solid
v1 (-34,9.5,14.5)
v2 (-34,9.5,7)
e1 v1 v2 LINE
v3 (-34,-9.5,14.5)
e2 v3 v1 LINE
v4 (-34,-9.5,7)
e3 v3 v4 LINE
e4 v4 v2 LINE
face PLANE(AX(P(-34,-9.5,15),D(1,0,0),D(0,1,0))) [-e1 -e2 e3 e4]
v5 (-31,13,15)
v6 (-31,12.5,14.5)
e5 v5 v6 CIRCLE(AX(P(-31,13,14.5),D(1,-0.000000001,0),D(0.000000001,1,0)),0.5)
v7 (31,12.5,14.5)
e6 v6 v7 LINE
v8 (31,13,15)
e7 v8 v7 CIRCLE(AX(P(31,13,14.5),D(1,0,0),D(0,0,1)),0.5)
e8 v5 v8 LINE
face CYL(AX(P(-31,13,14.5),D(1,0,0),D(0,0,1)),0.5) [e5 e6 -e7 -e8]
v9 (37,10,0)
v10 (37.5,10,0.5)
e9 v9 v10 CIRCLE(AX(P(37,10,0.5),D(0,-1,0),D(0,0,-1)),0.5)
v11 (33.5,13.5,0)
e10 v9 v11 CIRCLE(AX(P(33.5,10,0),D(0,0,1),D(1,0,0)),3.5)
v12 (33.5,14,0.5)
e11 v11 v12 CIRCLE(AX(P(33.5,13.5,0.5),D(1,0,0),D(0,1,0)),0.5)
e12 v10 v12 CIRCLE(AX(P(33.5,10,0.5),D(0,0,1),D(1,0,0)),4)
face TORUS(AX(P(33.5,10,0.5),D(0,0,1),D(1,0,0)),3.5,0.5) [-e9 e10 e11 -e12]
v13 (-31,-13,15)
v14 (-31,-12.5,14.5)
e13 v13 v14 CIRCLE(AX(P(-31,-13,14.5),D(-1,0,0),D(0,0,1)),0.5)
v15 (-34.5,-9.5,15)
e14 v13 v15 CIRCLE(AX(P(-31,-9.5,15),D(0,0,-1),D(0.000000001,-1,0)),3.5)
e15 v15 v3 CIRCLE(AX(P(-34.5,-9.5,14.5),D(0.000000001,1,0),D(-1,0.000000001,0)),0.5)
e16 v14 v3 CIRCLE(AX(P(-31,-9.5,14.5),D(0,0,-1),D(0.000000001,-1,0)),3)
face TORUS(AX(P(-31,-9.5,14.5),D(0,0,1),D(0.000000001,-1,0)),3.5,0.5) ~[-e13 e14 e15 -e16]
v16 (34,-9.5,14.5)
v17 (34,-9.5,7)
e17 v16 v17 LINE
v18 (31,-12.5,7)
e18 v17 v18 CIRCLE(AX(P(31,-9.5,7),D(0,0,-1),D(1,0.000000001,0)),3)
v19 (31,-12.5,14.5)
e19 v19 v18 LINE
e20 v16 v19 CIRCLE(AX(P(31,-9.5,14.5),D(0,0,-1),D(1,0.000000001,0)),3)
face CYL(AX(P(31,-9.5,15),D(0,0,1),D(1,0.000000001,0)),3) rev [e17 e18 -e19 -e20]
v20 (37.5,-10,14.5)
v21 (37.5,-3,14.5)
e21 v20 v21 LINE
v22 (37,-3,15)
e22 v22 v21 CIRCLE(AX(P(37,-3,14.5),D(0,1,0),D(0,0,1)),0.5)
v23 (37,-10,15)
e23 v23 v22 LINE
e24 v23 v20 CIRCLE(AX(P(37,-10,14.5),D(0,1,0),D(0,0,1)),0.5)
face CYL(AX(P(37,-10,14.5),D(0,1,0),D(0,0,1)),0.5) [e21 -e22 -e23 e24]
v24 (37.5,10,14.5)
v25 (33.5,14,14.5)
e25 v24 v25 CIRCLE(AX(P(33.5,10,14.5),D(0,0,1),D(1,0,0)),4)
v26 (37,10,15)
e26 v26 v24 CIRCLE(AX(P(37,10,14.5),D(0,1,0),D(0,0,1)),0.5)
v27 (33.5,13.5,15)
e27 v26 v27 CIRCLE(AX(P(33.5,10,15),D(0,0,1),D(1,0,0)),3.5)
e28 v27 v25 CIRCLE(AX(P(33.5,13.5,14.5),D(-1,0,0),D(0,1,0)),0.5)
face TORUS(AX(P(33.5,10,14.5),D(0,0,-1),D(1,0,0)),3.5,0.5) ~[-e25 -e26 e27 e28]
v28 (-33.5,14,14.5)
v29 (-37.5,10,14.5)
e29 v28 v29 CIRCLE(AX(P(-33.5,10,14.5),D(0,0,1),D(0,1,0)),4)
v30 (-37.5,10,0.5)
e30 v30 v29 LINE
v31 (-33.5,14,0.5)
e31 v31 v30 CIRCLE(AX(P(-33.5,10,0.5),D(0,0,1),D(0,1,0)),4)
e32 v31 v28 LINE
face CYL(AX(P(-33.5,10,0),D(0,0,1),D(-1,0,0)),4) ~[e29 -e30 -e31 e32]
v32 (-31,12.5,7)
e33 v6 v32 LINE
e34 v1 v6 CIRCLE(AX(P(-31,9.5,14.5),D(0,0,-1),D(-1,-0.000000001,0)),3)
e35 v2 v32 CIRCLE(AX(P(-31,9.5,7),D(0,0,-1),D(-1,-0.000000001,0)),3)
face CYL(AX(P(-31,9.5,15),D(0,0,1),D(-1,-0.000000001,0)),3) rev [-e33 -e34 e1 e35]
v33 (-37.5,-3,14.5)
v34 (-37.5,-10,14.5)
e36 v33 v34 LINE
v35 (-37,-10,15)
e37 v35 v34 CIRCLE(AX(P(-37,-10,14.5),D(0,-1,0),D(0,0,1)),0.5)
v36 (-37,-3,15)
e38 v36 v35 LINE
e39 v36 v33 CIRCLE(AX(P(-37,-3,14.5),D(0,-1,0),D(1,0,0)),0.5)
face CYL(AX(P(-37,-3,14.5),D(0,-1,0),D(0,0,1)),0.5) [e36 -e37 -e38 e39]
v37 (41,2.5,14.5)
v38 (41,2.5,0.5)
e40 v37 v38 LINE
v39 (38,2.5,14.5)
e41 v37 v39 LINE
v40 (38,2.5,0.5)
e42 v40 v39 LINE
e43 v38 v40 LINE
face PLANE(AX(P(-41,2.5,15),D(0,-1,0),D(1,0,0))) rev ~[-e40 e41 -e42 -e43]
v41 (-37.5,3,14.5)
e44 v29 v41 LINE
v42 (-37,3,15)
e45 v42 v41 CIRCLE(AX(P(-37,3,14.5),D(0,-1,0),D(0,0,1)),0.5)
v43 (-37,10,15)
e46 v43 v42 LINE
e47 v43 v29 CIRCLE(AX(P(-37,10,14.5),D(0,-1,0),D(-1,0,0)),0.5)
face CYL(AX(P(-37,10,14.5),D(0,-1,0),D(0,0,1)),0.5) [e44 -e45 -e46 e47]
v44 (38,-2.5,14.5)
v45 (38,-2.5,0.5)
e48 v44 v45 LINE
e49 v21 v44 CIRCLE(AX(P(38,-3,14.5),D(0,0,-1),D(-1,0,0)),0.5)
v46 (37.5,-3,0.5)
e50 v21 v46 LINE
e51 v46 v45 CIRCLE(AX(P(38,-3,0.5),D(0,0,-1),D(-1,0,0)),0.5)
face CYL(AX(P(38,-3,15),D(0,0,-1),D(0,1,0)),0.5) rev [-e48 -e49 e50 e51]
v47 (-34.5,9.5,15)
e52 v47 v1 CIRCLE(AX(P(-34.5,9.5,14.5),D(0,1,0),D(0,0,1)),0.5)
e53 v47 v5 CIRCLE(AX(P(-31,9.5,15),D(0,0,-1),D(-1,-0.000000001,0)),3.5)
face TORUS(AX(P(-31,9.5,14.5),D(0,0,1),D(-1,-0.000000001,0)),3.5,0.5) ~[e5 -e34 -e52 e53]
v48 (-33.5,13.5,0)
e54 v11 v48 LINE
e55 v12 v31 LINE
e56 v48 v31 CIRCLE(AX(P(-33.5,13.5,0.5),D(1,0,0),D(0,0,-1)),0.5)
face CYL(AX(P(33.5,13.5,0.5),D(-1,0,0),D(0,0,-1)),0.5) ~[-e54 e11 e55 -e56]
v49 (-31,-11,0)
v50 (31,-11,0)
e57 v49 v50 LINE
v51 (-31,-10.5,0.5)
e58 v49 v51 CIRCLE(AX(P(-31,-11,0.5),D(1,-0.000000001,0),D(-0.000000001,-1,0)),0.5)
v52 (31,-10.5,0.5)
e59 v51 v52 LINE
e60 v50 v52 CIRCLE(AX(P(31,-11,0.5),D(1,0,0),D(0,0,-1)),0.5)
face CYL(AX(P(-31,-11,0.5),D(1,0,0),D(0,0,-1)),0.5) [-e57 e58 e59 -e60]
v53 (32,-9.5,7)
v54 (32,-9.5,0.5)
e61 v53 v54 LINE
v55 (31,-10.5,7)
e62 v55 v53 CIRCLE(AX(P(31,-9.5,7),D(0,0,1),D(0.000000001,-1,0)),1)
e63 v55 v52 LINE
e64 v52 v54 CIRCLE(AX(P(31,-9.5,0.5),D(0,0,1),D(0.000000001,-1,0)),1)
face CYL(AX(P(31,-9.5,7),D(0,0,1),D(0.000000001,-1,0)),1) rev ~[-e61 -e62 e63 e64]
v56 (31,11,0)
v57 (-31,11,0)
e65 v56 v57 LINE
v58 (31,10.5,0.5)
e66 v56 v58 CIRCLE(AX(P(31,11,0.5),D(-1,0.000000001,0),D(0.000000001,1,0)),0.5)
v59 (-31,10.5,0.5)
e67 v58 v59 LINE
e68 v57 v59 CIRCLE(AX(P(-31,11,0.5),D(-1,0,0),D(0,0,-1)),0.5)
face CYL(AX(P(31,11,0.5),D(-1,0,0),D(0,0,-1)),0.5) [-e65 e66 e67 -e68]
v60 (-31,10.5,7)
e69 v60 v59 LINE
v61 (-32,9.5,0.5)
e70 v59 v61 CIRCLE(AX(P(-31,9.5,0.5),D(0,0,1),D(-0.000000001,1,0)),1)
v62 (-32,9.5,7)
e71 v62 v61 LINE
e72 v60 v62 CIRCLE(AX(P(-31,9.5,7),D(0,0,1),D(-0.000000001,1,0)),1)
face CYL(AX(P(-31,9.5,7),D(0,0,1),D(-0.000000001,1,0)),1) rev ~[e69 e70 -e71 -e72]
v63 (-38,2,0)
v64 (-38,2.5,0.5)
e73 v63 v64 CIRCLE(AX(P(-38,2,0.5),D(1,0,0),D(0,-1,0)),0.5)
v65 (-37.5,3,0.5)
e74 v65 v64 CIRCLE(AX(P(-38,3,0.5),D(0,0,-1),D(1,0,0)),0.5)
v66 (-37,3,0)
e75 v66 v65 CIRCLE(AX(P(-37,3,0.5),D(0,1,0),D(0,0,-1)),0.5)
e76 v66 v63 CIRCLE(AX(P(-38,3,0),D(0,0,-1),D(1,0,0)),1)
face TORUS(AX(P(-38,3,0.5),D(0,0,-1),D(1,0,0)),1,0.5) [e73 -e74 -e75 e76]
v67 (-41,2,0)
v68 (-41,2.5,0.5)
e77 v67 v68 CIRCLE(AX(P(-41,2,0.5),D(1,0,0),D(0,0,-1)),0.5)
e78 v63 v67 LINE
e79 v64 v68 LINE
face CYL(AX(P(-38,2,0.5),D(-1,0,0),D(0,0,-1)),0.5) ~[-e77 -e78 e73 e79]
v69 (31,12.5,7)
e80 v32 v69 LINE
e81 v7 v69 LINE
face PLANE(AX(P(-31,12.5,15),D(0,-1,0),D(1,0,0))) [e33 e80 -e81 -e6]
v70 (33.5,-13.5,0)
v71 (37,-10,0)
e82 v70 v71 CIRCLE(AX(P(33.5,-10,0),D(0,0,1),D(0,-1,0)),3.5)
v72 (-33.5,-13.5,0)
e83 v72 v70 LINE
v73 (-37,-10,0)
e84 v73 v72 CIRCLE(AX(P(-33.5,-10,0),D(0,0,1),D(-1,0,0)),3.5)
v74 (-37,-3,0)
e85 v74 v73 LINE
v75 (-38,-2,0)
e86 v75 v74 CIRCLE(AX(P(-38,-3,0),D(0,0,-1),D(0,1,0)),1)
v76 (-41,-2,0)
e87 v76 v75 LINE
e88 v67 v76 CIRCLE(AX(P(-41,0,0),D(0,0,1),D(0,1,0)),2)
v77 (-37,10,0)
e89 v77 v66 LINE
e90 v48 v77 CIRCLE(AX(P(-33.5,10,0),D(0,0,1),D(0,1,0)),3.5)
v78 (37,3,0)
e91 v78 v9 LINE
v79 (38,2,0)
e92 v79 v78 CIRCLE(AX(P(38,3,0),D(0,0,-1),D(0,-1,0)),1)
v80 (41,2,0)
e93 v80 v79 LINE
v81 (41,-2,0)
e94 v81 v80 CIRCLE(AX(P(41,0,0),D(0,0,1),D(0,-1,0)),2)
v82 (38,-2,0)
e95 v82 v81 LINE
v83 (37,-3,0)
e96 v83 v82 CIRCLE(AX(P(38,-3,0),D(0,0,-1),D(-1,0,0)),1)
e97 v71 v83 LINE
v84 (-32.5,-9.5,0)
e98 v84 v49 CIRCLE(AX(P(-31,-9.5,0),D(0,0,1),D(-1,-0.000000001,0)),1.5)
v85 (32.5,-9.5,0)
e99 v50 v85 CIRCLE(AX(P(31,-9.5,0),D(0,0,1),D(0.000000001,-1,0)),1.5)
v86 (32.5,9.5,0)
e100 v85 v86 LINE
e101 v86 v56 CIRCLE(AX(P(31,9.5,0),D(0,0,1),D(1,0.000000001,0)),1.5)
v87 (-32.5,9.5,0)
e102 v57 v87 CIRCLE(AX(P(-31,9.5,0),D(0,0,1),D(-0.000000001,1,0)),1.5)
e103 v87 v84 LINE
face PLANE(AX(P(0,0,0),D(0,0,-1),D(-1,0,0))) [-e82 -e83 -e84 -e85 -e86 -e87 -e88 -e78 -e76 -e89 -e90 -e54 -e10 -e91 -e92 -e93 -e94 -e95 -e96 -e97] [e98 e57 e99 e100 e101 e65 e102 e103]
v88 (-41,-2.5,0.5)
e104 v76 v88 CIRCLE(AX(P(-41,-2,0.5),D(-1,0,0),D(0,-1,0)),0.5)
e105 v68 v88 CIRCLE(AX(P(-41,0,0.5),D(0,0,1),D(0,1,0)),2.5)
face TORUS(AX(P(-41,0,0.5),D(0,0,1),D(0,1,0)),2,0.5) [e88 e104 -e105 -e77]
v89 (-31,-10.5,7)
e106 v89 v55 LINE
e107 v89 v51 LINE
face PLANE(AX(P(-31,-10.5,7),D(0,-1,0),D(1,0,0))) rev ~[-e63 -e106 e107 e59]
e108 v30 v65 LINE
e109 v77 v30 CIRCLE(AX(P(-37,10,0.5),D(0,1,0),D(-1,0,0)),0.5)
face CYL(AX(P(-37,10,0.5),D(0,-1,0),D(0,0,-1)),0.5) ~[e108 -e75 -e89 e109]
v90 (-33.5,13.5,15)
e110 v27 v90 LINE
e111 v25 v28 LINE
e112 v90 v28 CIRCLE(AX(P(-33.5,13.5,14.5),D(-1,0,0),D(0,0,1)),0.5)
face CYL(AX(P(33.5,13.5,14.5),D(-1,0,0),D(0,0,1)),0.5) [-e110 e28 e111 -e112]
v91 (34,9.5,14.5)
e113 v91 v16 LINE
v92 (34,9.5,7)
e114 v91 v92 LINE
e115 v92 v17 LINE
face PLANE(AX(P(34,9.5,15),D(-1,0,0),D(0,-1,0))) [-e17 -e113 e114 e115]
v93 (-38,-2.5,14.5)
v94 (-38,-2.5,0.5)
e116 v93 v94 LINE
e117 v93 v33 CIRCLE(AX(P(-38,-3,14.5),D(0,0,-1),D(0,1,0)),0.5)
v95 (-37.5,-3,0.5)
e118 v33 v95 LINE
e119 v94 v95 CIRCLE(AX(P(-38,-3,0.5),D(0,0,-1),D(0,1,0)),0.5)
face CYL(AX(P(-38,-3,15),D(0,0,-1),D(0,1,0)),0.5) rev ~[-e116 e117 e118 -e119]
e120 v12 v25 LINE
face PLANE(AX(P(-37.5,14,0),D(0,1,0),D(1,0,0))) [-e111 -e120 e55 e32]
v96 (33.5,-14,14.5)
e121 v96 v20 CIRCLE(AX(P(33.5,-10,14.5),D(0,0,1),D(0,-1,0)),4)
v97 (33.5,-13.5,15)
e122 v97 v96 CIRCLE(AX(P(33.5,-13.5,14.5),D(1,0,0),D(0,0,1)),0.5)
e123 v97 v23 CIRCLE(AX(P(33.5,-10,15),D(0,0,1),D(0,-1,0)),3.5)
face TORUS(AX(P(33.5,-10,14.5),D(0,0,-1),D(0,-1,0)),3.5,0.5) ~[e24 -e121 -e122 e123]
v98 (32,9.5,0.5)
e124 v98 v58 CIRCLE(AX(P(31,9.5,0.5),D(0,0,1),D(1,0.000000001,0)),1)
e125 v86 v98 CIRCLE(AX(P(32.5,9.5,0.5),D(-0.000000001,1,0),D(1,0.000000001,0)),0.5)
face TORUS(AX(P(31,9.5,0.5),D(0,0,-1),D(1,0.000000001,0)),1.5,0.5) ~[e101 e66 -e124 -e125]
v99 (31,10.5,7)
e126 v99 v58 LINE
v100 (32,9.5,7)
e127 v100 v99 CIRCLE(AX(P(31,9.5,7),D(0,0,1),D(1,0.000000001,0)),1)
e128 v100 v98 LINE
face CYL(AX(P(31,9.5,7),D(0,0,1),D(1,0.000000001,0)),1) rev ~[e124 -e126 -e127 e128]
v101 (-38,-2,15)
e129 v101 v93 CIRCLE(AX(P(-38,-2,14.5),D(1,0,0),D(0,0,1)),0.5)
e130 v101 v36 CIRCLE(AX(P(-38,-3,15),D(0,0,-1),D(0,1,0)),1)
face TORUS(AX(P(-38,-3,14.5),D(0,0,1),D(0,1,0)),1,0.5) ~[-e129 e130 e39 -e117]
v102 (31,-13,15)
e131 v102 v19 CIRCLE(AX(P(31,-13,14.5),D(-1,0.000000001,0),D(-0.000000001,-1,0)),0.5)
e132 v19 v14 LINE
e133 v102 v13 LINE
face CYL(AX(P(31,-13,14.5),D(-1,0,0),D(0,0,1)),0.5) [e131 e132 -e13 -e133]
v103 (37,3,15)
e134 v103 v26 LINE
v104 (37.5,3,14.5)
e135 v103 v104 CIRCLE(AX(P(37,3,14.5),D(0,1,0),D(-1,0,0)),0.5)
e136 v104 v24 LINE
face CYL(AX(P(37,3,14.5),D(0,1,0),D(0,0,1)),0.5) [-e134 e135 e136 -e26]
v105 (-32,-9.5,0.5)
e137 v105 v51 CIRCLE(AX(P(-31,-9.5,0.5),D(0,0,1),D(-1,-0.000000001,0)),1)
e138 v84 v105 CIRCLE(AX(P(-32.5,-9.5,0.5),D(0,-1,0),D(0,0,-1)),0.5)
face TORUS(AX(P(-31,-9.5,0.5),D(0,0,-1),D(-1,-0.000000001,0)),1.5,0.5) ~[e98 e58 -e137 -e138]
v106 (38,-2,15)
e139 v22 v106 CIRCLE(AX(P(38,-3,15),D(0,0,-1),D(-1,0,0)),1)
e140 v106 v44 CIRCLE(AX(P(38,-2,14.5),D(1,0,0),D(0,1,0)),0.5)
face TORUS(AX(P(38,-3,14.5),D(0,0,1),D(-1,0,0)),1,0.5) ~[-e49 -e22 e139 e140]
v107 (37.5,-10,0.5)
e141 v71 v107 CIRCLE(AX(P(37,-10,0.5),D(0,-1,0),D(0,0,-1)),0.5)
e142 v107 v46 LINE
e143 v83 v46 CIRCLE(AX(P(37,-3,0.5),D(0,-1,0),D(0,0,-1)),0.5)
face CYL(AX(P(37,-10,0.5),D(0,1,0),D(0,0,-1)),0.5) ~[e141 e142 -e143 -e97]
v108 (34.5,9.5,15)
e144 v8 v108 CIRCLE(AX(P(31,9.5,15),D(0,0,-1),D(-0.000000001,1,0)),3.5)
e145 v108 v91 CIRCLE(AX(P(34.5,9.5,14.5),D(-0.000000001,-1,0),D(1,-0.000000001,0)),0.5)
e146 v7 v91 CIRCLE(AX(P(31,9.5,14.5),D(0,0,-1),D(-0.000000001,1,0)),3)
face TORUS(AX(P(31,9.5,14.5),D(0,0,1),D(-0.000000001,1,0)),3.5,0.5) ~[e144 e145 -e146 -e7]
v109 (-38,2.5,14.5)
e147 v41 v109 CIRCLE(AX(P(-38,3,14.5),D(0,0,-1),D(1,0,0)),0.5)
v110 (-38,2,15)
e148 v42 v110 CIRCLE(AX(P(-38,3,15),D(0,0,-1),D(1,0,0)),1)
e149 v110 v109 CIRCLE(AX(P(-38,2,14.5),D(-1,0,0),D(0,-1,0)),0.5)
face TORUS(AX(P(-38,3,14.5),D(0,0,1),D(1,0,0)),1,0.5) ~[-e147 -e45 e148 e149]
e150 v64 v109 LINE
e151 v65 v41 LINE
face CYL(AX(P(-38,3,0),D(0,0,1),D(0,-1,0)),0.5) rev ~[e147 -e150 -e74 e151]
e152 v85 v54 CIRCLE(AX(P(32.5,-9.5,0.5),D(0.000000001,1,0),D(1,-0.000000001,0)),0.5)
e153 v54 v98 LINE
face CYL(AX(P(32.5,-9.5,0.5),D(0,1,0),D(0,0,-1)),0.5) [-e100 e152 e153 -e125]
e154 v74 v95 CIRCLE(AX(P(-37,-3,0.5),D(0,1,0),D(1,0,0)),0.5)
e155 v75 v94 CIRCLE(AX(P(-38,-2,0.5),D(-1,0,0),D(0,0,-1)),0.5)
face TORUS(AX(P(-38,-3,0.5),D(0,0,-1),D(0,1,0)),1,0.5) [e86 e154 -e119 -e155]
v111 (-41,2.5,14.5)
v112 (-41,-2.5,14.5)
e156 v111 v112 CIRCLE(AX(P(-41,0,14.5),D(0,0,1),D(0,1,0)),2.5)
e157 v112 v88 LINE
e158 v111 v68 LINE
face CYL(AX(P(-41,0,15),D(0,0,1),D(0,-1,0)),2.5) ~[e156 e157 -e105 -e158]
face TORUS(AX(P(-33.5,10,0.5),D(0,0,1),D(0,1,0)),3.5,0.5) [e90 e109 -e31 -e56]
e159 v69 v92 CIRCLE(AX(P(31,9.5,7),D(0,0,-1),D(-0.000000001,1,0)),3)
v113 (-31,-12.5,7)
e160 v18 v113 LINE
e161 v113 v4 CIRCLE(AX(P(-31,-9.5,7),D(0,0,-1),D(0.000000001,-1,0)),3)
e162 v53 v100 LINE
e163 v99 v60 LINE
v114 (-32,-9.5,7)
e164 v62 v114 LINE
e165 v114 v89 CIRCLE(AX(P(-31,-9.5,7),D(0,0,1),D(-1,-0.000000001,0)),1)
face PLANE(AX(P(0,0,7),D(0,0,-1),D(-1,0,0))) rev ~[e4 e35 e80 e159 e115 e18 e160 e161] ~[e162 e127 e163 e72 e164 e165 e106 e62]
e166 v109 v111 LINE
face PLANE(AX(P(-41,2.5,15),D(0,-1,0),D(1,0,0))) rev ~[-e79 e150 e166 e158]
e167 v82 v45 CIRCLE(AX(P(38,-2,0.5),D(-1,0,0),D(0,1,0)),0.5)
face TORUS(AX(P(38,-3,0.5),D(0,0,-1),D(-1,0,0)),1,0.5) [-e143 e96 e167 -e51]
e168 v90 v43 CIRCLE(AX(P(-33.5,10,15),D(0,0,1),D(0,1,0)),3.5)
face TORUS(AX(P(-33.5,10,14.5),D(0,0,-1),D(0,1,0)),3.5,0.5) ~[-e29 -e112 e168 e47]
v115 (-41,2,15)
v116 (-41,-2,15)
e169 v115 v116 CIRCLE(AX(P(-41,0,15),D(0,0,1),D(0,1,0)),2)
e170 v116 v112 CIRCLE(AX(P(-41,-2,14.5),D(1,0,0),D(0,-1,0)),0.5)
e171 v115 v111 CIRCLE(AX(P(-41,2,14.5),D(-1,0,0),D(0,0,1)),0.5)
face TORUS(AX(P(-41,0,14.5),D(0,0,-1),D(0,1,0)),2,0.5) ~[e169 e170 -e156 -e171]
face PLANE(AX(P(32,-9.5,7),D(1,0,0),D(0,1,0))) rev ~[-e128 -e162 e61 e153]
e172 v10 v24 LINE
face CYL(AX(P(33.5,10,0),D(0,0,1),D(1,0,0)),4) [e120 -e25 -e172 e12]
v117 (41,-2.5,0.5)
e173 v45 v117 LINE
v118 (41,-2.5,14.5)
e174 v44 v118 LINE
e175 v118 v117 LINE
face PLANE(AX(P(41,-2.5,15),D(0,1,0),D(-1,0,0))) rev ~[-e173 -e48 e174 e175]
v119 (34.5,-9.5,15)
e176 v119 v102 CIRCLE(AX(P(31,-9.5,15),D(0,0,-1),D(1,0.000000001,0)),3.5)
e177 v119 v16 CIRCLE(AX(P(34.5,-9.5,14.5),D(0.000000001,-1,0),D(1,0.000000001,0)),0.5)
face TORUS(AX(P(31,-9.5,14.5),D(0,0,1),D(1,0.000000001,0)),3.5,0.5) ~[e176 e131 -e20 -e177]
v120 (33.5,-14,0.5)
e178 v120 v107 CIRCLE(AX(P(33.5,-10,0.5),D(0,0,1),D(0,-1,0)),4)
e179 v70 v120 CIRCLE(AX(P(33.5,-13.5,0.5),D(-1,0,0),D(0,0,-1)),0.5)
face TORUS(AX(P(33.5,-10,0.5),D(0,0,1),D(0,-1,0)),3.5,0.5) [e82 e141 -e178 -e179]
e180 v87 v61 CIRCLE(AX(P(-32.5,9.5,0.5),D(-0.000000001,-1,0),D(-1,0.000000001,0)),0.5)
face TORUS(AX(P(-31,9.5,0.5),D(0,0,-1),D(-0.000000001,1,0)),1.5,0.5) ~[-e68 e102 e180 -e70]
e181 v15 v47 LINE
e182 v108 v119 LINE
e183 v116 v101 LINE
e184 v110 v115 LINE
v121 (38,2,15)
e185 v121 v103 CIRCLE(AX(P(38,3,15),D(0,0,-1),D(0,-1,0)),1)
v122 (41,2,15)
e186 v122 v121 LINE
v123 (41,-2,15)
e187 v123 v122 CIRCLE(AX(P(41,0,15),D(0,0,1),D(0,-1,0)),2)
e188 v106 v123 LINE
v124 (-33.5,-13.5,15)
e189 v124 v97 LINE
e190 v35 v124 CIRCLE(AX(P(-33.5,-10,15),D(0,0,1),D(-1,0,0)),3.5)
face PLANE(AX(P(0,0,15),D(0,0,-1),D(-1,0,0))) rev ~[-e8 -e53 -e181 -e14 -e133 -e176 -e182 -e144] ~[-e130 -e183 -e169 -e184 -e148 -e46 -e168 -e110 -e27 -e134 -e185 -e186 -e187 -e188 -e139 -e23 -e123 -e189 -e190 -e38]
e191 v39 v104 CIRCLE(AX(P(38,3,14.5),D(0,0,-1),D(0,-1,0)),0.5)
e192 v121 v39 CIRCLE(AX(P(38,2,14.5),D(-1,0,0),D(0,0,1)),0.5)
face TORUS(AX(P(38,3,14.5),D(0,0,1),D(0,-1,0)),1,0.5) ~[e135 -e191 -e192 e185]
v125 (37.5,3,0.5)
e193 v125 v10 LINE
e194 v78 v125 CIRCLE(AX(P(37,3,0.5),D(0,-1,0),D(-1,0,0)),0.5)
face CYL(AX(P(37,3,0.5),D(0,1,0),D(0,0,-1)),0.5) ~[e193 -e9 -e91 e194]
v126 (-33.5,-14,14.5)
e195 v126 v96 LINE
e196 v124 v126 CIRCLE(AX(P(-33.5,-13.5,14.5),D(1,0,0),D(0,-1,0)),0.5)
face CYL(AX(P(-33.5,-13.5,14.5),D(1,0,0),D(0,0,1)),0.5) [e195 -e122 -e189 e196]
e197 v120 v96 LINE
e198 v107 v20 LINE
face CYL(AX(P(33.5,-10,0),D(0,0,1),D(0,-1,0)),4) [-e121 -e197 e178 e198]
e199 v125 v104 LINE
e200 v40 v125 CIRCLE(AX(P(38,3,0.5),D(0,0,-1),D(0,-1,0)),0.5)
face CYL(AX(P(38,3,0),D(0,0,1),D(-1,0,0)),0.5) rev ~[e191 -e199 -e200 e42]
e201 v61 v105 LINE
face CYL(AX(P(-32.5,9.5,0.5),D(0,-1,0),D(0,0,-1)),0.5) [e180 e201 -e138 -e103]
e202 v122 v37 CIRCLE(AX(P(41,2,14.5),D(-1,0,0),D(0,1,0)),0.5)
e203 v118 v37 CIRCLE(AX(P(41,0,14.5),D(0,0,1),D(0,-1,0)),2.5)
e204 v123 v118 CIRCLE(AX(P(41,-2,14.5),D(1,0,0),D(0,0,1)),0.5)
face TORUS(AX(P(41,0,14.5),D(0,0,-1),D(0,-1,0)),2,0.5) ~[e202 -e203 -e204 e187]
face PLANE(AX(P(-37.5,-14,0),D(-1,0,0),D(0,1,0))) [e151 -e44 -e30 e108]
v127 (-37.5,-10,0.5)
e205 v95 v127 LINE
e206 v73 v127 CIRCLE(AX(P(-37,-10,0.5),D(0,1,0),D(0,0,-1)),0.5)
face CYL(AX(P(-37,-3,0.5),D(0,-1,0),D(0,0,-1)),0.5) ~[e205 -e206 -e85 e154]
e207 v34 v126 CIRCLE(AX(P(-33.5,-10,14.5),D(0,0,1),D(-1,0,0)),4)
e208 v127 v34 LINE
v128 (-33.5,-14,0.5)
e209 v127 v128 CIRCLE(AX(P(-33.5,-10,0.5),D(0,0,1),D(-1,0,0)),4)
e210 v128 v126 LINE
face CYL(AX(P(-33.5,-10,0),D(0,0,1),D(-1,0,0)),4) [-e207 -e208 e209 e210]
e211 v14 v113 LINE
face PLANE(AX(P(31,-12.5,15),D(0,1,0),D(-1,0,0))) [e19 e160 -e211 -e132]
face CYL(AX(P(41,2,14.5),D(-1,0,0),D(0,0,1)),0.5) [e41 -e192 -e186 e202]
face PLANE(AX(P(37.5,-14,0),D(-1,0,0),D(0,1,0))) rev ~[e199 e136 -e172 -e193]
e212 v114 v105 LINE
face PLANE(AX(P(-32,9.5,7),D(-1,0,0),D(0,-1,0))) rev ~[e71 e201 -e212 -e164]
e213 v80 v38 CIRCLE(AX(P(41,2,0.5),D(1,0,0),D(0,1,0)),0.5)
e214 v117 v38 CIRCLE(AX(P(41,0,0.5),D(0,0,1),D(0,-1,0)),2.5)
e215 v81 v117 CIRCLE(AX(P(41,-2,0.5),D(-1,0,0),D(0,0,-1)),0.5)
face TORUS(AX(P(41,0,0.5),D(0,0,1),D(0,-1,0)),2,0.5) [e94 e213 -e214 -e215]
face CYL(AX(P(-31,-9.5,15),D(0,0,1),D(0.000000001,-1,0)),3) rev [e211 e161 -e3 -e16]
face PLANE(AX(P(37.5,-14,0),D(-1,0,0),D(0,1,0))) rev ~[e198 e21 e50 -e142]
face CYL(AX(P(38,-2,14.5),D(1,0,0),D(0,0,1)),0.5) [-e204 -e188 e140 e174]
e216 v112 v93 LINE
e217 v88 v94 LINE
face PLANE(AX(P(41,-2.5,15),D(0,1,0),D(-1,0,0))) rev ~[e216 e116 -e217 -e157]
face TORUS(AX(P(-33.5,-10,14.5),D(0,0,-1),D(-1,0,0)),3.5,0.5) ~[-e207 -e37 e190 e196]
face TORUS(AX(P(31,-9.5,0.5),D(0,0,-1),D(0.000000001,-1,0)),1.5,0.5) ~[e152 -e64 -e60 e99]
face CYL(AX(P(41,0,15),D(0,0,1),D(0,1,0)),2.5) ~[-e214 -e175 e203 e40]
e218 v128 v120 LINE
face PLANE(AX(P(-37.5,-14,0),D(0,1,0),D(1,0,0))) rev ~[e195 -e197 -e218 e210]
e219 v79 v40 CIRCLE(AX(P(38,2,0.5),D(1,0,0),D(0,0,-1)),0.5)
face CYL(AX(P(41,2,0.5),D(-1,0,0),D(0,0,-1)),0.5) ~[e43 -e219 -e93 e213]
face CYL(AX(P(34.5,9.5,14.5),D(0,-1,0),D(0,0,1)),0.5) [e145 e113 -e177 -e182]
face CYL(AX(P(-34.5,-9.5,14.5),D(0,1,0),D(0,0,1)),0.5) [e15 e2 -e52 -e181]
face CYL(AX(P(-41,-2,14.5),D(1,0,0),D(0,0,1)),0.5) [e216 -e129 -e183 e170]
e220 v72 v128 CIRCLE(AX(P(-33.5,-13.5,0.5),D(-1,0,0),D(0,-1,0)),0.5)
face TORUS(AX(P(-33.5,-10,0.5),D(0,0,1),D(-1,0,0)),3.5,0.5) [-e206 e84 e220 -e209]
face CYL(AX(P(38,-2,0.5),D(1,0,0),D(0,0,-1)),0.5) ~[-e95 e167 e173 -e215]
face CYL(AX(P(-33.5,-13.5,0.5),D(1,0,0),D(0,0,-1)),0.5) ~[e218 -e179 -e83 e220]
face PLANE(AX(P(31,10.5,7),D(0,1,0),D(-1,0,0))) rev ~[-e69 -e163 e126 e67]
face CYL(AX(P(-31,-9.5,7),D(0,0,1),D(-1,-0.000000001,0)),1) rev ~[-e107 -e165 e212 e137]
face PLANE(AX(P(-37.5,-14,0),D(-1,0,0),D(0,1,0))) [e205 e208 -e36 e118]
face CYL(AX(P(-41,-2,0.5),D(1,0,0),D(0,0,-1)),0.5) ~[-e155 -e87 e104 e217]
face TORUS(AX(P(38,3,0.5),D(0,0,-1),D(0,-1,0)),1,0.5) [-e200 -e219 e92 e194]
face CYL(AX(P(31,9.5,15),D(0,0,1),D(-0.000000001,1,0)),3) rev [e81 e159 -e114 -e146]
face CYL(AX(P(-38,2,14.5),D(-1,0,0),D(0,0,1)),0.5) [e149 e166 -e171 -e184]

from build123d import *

# Parameters (mm, degrees)
ESQUISSE1_W             = 75
ESQUISSE1_H             = 28
BOSS_EXTRU_1_DEPTH      = 15
CONG_1_R                = 4
BOSS_EXTRU_2_DEPTH      = 15
CONG_2_R                = 0.5
ENL_V_MAT_EXTRU_1_DEPTH = 8
ENL_V_MAT_EXTRU_2_DEPTH = 47.392348507
CONG_3_R                = 0.5


with BuildPart() as part:
    # Esquisse1 → Boss.-Extru.1 (new body)
    with BuildSketch(Plane.XY):
        Rectangle(ESQUISSE1_W, ESQUISSE1_H)
    extrude(amount=BOSS_EXTRU_1_DEPTH)

    # Congé1
    cong_1_edges = [part.edges().sort_by_distance(p)[0] for p in [
        (37.5, -14, 7.5),
        (-37.5, -14, 7.5),
        (-37.5, 14, 7.5),
        (37.5, 14, 7.5),
    ]]
    fillet(cong_1_edges, radius=CONG_1_R)

    # Esquisse2 → Boss.-Extru.2 (add)
    with BuildSketch(Plane.XY.offset(15)):
        with BuildLine():
            Line((-41, 2.5), (41, 2.5))
            ThreePointArc((41, 2.5), (43.5, 0), (41, -2.5))
            Line((41, -2.5), (-41, -2.5))
            ThreePointArc((-41, -2.5), (-43.5, 0), (-41, 2.5))
        make_face()
    extrude(amount=-BOSS_EXTRU_2_DEPTH)

    # Congé2
    cong_2_edges = [part.edges().sort_by_distance(p)[0] for p in [
        (37.5, -2.5, 7.5),
        (-37.5, -2.5, 7.5),
        (37.5, 2.5, 7.5),
        (-37.5, 2.5, 7.5),
    ]]
    fillet(cong_2_edges, radius=CONG_2_R)

    # Esquisse3 → Enlèv. mat.-Extru.1 (cut)
    with BuildSketch(Plane.XY.offset(15)):
        with BuildLine():
            Line((-31, 12.5), (31, 12.5))
            ThreePointArc((31, 12.5), (33.121320344, 11.621320344), (34, 9.5))
            Line((34, 9.5), (34, -9.5))
            ThreePointArc((34, -9.5), (33.121320344, -11.621320344), (31, -12.5))
            Line((31, -12.5), (-31, -12.5))
            ThreePointArc((-31, -12.5), (-33.121320344, -11.621320344), (-34, -9.5))
            Line((-34, -9.5), (-34, 9.5))
            ThreePointArc((-34, 9.5), (-33.121320344, 11.621320344), (-31, 12.5))
        make_face()
    extrude(amount=-ENL_V_MAT_EXTRU_1_DEPTH, mode=Mode.SUBTRACT)

    # Esquisse4 → Enlèv. mat.-Extru.2 (cut, through all)
    with BuildSketch(Plane.XY.offset(7)):
        with BuildLine():
            Line((31, 10.5), (-31, 10.5))
            ThreePointArc((-31, 10.5), (-31.707106781, 10.207106781), (-32, 9.5))
            Line((-32, 9.5), (-32, -9.5))
            ThreePointArc((-32, -9.5), (-31.707106781, -10.207106781), (-31, -10.5))
            Line((-31, -10.5), (31, -10.5))
            ThreePointArc((31, -10.5), (31.707106781, -10.207106781), (32, -9.5))
            Line((32, -9.5), (32, 9.5))
            ThreePointArc((32, 9.5), (31.707106781, 10.207106781), (31, 10.5))
        make_face()
    extrude(amount=-ENL_V_MAT_EXTRU_2_DEPTH, mode=Mode.SUBTRACT)

    # Congé3
    cong_3_edges = [part.edges().sort_by_distance(p)[0] for p in [
        (33.121320344, -11.621320344, 15),
        (34, 0, 15),
        (31.707106781, 10.207106781, 0),
        (32, 0, 0),
        (31.707106781, -10.207106781, 0),
        (0, -10.5, 0),
        (-31.707106781, -10.207106781, 0),
        (-32, 0, 0),
        (-31.707106781, 10.207106781, 0),
        (0, 10.5, 0),
        (37.5, -6.5, 0),
        (37.5, -6.5, 15),
        (0, -14, 0),
        (-37.5, 6.5, 0),
        (0, 14, 0),
        (-36.328427125, -12.828427125, 0),
        (36.328427125, 12.828427125, 0),
        (-36.328427125, 12.828427125, 0),
        (36.328427125, -12.828427125, 0),
        (0, -14, 15),
        (0, 14, 15),
        (-37.5, 6.5, 15),
        (-36.328427125, -12.828427125, 15),
        (36.328427125, 12.828427125, 15),
        (-36.328427125, 12.828427125, 15),
        (36.328427125, -12.828427125, 15),
        (43.5, 0, 15),
        (39.5, 2.5, 15),
        (-43.5, 0, 15),
        (-39.5, -2.5, 15),
        (-39.5, -2.5, 0),
        (39.5, 2.5, 0),
        (43.5, 0, 0),
        (-43.5, 0, 0),
        (37.5, 6.5, 15),
        (37.5, 6.5, 0),
        (39.5, -2.5, 0),
        (39.5, -2.5, 15),
        (-39.5, 2.5, 0),
        (-39.5, 2.5, 15),
        (-37.5, -6.5, 15),
        (-37.5, -6.5, 0),
        (37.646446609, 2.646446609, 0),
        (37.646446609, 2.646446609, 15),
        (37.646446609, -2.646446609, 15),
        (37.646446609, -2.646446609, 0),
        (-37.646446609, 2.646446609, 15),
        (-37.646446609, 2.646446609, 0),
        (-37.646446609, -2.646446609, 0),
        (-37.646446609, -2.646446609, 15),
        (33.121320344, 11.621320344, 15),
        (0, 12.5, 15),
        (-33.121320344, 11.621320344, 15),
        (-34, 0, 15),
        (-33.121320344, -11.621320344, 15),
        (0, -12.5, 15),
    ]]
    fillet(cong_3_edges, radius=CONG_3_R)


solid = part.part
